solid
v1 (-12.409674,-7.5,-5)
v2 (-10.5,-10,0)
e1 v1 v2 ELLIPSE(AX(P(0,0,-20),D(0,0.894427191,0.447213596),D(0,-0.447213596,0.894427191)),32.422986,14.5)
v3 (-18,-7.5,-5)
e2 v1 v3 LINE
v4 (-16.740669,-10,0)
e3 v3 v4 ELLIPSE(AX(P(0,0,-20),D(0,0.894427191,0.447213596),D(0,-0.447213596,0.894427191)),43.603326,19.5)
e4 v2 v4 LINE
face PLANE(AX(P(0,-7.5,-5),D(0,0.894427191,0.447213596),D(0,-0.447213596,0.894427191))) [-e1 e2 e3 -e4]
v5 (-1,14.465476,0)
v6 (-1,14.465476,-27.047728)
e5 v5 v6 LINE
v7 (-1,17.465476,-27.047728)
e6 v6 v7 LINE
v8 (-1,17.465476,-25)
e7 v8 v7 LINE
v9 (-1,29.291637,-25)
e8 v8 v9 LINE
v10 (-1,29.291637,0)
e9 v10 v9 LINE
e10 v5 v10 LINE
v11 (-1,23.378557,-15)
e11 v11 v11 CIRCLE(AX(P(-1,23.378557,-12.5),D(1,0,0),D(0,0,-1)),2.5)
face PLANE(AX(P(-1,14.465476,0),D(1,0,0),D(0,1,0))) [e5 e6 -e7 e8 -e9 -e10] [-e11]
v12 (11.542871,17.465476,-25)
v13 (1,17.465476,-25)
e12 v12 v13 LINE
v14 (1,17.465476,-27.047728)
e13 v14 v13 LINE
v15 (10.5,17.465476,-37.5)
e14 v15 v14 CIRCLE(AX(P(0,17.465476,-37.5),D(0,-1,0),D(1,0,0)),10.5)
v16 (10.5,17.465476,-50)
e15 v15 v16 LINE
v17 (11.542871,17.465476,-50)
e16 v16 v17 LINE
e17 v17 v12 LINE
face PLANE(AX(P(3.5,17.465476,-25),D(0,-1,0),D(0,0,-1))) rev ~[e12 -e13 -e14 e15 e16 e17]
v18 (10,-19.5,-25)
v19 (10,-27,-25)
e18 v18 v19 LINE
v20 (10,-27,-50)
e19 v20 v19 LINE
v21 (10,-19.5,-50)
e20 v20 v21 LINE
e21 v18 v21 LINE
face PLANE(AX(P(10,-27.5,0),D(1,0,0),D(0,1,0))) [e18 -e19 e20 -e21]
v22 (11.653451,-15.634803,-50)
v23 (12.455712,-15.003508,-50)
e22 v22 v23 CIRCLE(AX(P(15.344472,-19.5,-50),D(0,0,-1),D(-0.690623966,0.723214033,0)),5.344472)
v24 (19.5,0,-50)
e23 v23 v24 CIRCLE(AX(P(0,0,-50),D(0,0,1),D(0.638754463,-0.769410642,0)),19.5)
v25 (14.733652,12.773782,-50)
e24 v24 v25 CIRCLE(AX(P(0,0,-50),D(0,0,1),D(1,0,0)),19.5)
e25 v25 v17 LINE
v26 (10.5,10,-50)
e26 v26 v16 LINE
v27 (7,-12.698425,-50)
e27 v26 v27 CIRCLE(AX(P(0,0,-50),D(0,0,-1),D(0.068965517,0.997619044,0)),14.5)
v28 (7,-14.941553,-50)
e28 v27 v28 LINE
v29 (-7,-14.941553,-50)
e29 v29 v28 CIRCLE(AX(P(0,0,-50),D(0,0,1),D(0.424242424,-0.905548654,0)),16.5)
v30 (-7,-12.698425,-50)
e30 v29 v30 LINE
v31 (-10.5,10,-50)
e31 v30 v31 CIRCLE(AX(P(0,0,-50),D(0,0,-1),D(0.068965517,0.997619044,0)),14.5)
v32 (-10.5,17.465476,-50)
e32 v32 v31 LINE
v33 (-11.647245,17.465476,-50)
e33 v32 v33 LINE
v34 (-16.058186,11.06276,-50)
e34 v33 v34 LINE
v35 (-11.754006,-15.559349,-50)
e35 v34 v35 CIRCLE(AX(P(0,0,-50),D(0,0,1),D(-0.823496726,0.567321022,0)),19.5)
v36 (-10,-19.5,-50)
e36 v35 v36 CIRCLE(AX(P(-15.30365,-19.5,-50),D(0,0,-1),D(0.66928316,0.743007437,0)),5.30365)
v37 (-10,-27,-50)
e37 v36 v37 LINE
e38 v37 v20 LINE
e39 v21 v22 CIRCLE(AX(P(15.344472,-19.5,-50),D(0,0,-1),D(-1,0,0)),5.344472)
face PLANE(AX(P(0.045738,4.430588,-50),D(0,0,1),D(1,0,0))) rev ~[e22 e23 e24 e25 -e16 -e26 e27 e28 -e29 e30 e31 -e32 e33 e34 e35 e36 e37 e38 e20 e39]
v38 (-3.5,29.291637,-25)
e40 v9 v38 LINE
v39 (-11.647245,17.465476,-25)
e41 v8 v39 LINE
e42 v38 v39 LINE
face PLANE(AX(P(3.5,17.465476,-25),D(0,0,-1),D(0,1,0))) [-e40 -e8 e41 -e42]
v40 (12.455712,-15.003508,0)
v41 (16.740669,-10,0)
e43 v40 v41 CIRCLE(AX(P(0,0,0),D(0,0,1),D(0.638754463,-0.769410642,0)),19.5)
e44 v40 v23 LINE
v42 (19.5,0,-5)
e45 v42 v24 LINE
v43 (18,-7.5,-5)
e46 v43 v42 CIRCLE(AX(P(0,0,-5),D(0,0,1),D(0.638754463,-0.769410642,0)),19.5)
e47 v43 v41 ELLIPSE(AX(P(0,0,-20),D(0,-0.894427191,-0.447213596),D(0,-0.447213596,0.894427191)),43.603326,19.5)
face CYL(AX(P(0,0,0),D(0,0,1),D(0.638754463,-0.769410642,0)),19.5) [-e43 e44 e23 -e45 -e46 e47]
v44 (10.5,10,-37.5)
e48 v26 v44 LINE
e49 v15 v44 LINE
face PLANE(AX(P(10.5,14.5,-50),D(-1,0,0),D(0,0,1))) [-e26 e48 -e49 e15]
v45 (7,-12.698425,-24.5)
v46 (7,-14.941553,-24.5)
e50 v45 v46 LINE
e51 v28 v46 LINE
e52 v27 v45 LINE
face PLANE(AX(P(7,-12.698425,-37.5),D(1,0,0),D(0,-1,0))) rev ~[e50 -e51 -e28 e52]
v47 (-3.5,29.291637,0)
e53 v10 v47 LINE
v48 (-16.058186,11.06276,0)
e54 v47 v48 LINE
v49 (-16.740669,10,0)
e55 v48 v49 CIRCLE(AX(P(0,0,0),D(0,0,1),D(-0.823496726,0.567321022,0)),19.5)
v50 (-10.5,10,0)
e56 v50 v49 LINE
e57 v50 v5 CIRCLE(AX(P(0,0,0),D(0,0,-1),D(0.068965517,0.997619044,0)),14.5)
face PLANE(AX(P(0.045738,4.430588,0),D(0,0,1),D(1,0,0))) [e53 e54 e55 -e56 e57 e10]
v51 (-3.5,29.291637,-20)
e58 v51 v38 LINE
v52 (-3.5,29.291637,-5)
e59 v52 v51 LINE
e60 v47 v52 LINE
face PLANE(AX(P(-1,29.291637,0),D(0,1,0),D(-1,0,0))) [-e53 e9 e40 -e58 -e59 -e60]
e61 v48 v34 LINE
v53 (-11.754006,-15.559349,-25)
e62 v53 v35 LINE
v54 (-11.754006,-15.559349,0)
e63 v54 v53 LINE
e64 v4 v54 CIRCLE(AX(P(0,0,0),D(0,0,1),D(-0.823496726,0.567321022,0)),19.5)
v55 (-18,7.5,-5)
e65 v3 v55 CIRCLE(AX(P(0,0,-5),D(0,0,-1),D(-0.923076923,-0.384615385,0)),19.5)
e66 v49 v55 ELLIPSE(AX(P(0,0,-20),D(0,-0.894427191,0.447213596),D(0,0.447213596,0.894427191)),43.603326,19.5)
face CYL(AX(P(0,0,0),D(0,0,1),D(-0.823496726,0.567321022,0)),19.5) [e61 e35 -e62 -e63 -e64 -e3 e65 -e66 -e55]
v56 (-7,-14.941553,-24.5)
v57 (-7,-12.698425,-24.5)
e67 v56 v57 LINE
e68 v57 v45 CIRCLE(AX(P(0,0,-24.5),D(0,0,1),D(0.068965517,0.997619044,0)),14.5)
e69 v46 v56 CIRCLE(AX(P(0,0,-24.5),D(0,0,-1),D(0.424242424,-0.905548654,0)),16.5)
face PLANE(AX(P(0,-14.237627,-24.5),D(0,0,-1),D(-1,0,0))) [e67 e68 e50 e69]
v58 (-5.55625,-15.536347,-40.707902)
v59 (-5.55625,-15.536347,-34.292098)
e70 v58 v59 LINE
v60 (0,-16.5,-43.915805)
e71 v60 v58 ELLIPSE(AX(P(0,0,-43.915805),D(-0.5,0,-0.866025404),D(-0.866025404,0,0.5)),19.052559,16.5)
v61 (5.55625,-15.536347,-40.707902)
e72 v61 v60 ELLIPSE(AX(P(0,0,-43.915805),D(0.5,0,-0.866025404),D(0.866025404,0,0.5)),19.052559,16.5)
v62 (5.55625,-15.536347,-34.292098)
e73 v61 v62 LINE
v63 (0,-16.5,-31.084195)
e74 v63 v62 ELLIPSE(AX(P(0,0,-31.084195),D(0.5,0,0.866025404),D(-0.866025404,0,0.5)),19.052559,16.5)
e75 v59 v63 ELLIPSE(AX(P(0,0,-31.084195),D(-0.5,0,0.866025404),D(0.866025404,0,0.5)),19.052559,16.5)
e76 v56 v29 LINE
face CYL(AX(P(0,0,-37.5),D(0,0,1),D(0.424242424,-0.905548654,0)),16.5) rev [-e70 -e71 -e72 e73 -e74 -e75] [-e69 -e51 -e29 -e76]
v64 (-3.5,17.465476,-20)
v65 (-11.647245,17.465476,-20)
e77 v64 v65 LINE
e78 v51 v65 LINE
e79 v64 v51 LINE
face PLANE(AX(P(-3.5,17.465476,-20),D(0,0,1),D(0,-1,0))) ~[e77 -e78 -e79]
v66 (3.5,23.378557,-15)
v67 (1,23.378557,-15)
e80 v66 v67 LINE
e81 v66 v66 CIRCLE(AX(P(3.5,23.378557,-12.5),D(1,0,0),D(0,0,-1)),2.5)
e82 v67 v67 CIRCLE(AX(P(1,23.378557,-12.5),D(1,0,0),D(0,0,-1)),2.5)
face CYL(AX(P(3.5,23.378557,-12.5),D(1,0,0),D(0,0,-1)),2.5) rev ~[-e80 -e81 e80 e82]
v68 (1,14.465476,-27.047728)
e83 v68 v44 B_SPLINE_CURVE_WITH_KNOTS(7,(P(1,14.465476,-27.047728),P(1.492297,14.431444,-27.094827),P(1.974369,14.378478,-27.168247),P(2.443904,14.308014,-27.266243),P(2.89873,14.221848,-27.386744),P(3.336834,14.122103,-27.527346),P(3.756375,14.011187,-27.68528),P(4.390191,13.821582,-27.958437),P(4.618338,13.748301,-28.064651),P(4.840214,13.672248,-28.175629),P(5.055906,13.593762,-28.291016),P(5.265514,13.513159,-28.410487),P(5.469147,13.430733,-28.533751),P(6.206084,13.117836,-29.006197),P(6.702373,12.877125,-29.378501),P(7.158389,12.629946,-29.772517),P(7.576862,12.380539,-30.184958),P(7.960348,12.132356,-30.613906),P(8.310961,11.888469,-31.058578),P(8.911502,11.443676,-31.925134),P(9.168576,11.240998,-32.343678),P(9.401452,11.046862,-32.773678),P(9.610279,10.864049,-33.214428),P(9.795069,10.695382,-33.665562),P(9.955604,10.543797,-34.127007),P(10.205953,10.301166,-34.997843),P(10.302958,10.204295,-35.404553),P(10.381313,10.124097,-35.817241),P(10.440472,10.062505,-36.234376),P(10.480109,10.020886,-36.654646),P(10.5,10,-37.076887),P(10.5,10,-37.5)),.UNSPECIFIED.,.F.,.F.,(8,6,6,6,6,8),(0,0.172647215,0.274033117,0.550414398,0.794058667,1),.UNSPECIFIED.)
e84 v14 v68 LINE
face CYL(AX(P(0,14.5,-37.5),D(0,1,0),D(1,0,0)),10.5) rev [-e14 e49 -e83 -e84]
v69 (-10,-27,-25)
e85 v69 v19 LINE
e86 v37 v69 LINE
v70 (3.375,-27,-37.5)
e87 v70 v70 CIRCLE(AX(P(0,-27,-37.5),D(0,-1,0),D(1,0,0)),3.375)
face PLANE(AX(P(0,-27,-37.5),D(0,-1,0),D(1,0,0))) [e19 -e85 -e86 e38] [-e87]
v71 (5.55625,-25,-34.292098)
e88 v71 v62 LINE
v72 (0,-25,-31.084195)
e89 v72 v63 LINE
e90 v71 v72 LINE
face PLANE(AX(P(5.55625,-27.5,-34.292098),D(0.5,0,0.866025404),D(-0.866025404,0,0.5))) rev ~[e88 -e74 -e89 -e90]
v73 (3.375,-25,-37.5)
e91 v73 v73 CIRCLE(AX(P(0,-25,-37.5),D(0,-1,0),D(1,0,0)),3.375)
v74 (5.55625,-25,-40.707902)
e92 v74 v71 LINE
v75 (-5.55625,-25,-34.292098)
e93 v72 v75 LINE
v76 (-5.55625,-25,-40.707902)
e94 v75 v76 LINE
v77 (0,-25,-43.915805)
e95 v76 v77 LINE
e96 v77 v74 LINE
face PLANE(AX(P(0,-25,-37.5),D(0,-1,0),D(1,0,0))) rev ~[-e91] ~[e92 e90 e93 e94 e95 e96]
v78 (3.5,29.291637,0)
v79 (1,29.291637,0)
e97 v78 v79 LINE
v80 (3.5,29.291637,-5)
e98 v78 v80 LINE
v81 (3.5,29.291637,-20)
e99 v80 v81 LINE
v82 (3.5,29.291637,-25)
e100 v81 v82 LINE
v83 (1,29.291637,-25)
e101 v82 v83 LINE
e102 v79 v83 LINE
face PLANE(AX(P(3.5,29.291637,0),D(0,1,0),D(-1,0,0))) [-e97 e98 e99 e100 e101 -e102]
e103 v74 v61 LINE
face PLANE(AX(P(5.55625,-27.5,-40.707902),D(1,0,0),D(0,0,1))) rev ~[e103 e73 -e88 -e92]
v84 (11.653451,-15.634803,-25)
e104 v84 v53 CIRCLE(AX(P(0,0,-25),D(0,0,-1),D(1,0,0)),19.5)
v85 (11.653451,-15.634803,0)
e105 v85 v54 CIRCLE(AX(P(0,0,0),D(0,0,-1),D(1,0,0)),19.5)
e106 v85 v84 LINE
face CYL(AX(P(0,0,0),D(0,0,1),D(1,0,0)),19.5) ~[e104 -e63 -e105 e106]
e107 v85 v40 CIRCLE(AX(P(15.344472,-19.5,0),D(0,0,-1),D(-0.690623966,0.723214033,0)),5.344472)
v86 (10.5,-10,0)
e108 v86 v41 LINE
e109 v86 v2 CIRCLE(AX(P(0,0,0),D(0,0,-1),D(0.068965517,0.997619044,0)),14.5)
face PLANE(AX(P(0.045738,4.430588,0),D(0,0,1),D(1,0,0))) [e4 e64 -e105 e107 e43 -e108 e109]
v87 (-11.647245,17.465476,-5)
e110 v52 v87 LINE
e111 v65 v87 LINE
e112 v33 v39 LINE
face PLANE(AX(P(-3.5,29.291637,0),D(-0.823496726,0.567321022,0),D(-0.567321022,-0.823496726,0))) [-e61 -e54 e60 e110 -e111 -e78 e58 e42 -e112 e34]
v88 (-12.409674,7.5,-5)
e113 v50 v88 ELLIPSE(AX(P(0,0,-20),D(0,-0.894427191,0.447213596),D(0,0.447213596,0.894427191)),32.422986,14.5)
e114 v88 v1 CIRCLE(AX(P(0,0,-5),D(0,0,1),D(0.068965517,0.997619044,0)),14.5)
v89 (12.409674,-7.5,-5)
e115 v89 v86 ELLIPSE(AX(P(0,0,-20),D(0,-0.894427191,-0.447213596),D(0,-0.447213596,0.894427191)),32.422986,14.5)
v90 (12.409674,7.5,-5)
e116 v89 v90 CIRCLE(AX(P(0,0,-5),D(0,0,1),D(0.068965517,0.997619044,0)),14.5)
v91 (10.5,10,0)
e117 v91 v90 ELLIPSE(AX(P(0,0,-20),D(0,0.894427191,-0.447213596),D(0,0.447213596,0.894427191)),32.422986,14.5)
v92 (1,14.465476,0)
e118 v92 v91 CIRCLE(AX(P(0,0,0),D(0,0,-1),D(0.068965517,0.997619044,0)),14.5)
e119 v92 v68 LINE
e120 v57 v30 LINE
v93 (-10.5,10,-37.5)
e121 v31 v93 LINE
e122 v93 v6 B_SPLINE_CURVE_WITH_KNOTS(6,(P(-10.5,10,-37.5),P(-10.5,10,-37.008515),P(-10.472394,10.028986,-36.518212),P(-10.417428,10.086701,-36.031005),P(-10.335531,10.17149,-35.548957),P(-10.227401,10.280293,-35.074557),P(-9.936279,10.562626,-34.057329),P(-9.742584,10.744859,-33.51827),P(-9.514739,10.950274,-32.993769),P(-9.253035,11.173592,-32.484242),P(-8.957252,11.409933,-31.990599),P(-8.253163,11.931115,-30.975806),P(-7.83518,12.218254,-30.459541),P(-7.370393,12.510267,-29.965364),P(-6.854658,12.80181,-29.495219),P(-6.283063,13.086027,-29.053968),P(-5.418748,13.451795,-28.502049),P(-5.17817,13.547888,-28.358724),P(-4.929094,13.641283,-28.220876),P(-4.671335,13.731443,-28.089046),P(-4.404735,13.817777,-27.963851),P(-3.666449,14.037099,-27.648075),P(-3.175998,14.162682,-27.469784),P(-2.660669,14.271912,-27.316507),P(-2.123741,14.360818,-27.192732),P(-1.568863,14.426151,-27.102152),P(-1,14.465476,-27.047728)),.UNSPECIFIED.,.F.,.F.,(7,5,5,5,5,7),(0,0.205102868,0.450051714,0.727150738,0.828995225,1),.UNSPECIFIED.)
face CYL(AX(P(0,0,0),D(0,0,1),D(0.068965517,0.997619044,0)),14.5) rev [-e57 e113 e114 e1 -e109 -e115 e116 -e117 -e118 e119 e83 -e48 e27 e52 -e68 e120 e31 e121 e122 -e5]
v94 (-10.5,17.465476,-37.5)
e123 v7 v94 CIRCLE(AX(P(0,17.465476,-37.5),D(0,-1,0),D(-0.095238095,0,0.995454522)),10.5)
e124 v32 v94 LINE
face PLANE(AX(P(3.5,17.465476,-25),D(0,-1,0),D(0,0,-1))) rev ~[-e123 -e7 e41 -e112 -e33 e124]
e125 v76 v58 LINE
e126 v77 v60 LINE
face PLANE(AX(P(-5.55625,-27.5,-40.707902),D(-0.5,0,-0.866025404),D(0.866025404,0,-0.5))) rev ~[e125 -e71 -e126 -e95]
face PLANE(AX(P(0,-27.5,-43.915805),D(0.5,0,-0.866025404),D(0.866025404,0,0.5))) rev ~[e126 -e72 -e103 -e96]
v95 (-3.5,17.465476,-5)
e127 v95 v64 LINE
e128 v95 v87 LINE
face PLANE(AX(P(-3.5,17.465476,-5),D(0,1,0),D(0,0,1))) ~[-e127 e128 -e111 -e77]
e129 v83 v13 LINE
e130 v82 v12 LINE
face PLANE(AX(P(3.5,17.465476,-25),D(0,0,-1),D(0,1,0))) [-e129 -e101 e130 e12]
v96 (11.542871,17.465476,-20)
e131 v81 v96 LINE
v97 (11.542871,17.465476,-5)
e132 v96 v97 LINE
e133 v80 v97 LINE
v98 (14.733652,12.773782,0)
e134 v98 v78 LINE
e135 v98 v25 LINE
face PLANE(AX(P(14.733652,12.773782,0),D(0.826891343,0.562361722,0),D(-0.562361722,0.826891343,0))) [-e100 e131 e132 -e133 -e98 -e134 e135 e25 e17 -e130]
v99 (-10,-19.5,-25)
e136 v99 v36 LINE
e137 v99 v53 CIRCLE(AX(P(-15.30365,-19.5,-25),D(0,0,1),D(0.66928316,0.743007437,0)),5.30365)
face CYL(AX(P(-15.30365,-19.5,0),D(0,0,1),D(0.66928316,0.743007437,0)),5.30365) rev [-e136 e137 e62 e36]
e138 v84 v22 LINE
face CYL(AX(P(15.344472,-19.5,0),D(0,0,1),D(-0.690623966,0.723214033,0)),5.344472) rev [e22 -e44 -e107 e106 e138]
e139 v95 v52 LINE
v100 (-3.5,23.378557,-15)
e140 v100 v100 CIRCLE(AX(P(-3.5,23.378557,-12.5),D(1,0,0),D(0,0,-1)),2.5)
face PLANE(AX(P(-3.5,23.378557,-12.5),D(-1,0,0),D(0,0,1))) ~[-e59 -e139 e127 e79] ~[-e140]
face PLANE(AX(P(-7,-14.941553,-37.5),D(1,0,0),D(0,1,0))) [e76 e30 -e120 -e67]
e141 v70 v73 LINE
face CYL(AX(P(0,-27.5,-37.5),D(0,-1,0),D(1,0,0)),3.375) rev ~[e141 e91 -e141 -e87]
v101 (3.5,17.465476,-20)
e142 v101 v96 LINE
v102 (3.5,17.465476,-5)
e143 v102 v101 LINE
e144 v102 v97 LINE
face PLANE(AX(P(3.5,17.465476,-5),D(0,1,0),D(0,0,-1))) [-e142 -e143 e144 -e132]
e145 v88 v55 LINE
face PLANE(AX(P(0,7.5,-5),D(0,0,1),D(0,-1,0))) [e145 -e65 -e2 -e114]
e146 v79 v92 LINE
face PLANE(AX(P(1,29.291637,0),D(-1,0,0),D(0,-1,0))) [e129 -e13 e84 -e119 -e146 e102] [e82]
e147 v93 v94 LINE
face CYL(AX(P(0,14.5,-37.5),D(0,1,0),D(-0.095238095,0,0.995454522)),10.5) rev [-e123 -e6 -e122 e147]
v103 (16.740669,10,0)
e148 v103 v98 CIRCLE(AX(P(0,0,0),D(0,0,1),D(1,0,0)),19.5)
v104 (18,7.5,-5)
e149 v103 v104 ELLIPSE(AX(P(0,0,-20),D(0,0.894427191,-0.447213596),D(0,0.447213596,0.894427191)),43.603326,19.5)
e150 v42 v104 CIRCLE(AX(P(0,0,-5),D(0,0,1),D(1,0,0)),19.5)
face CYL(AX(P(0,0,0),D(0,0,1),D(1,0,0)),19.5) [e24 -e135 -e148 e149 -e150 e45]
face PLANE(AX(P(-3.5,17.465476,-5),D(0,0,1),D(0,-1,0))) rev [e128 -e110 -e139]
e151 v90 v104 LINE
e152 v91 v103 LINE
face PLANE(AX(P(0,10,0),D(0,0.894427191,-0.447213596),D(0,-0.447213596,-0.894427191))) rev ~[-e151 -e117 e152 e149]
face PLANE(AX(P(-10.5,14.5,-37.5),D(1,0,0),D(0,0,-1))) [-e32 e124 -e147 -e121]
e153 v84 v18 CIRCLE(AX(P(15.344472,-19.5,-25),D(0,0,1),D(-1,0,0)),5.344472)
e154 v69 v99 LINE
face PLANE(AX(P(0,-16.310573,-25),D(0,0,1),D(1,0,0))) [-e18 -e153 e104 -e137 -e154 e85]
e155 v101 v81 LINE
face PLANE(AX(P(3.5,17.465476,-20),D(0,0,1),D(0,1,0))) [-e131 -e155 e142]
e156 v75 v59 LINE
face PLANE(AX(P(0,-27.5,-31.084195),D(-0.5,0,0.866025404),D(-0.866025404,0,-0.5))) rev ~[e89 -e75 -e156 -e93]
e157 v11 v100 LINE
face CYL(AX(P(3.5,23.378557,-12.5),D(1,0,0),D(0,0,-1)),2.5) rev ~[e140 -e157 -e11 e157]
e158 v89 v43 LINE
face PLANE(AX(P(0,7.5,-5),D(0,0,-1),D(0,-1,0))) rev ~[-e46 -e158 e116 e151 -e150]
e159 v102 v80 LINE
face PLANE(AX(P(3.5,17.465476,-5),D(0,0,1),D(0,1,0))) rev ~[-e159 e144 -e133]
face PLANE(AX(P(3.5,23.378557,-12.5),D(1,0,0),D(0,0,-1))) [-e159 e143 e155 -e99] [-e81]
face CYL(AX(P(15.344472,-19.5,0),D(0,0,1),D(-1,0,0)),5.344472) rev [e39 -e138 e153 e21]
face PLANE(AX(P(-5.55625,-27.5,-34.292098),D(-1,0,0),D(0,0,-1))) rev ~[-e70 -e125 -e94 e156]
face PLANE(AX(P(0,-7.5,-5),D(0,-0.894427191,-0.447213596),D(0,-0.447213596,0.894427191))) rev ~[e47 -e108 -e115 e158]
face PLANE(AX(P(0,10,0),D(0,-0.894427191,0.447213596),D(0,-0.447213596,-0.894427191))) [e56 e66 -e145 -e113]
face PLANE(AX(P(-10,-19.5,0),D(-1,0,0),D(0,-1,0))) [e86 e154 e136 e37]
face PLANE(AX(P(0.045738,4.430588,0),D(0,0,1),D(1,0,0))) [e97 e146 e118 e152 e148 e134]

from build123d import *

# Parameters (mm, degrees)
BOSS_EXTRUDE1_DEPTH            = 50
SKETCH4_W                      = 15
SKETCH4_H                      = 11.826160891
CUT_EXTRUDE3_DEPTH             = 17
SKETCH5_R                      = 2.5
CUT_EXTRUDE4_DEPTH             = 17
CUT_EXTRUDE4_DEPTH_BACK        = 24
SKETCH9_W                      = 25
SKETCH9_H                      = 11.826160891
CUT_EXTRUDE8_DEPTH             = 17
CUT_EXTRUDE8_DEPTH_BACK        = 24
CUT_EXTRUDE9_REACH             = 44
CUT_EXTRUDE9_DIRECTION_2_REACH = 16.792
CUT_EXTRUDE10_DEPTH            = 13
CUT_EXTRUDE10_DEPTH_BACK       = 13.5000001
CUT_EXTRUDE11_DEPTH            = 20.5
CUT_EXTRUDE11_DEPTH_BACK       = 20.5
CUT_EXTRUDE15_REACH            = 58.792
SKETCH14_R                     = 3.375
BOSS_EXTRUDE2_DEPTH            = 2.5
CUT_EXTRUDE17_DEPTH            = 25
SKETCH16_W                     = 20
SKETCH16_H                     = 25
CUT_EXTRUDE18_DEPTH            = 0.5


with BuildPart() as part:
    # Sketch1 → Boss-Extrude1 (new body)
    with BuildSketch(Plane.XY):
        with BuildLine():
            Line((3.5, 29.291637032), (1, 29.291637032))
            Line((1, 29.291637032), (1, 14.465476141))
            ThreePointArc((1, 14.465476141), (0, -14.5), (-1, 14.465476141))
            Line((-1, 14.465476141), (-1, 29.291637032))
            Line((-1, 29.291637032), (-3.5, 29.291637032))
            Line((-3.5, 29.291637032), (-16.058186159, 11.06275993))
            ThreePointArc((-16.058186159, 11.06275993), (-19.250030671, -3.112285199), (-11.754006256, -15.559348859))
            ThreePointArc((-11.754006256, -15.559348859), (-6.198495674, -18.488608692), (0, -19.5))
            ThreePointArc((0, -19.5), (6.13886546, -18.508493479), (11.653451419, -15.634803166))
            ThreePointArc((11.653451419, -15.634803166), (12.039474024, -15.299956246), (12.455712019, -15.003507527))
            ThreePointArc((12.455712019, -15.003507527), (17.651294349, -8.287448812), (19.5, 0))
            ThreePointArc((19.5, 0), (18.269595128, 6.817029694), (14.733651913, 12.773781793))
            Line((14.733651913, 12.773781793), (3.5, 29.291637032))
        make_face()
        with BuildLine():
            ThreePointArc((10, -19.5), (10.430719001, -17.397998087), (11.653451419, -15.634803166))
            ThreePointArc((11.653451419, -15.634803166), (6.13886546, -18.508493479), (0, -19.5))
            ThreePointArc((0, -19.5), (-6.198495674, -18.488608692), (-11.754006256, -15.559348859))
            ThreePointArc((-11.754006256, -15.559348859), (-10.458303194, -17.343308705), (-10, -19.5))
            Line((-10, -19.5), (-10, -27.5))
            Line((-10, -27.5), (10, -27.5))
            Line((10, -27.5), (10, -19.5))
        make_face()
    extrude(amount=-BOSS_EXTRUDE1_DEPTH)

    # Sketch4 → Cut-Extrude3 (cut, through all)
    with BuildSketch(Plane(origin=(3.5, 0, 0), x_dir=(0, 0, -1), z_dir=(1, 0, 0))):
        with Locations((12.5, 23.378556587)):
            Rectangle(SKETCH4_W, SKETCH4_H)
    cut_extrude3 = extrude(amount=CUT_EXTRUDE3_DEPTH, mode=Mode.SUBTRACT)

    # Mirror1: Cut-Extrude3 across plane
    add(cut_extrude3.mirror(Plane(origin=(0, 0, 0), x_dir=(0, 0, 1), z_dir=(1, 0, 0))), mode=Mode.SUBTRACT)

    # Sketch5 → Cut-Extrude4 (cut, two sides)
    with BuildSketch(Plane(origin=(3.5, 0, 0), x_dir=(0, 0, -1), z_dir=(1, 0, 0))) as cut_extrude4_sk:
        with Locations((12.5, 23.378556587)):
            Circle(SKETCH5_R)
    extrude(amount=CUT_EXTRUDE4_DEPTH, mode=Mode.SUBTRACT)
    extrude(cut_extrude4_sk.sketch, amount=-CUT_EXTRUDE4_DEPTH_BACK, mode=Mode.SUBTRACT)

    # Sketch9 → Cut-Extrude8 (cut, two sides)
    with BuildSketch(Plane(origin=(3.5, 0, 0), x_dir=(0, 0, -1), z_dir=(1, 0, 0))) as cut_extrude8_sk:
        with Locations((37.5, 23.378556587)):
            Rectangle(SKETCH9_W, SKETCH9_H)
    extrude(amount=CUT_EXTRUDE8_DEPTH, mode=Mode.SUBTRACT)
    extrude(cut_extrude8_sk.sketch, amount=-CUT_EXTRUDE8_DEPTH_BACK, mode=Mode.SUBTRACT)

    # Sketch8 → Cut-Extrude9 (cut, up to next)
    with BuildSketch(Plane(origin=(0, 14.5, 0), x_dir=(1, 0, 0), z_dir=(0, 1, 0)), mode=Mode.PRIVATE) as cut_extrude9_sk1:
        with BuildLine():
            Line((-10.5, 37.5), (-10.5, 50))
            Line((-10.5, 50), (-1, 50))
            Line((-1, 50), (-1, 27.04772752))
            ThreePointArc((-1, 27.04772752), (-7.770135134, 30.437776554), (-10.5, 37.5))
        make_face()
    cut_extrude9_tool1 = extrude(cut_extrude9_sk1.sketch, amount=-CUT_EXTRUDE9_REACH, mode=Mode.PRIVATE) & part.part
    add(cut_extrude9_tool1.solids().sort_by_distance((-5.457616, 14.5, -39.610639))[0], mode=Mode.SUBTRACT)
    # Sketch8 → Cut-Extrude9 (cut, up to next)
    with BuildSketch(Plane(origin=(0, 14.5, 0), x_dir=(1, 0, 0), z_dir=(0, 1, 0)), mode=Mode.PRIVATE) as cut_extrude9_sk2:
        with BuildLine():
            Line((10.5, 50), (10.5, 37.5))
            ThreePointArc((10.5, 37.5), (7.770135134, 30.437776554), (1, 27.04772752))
            Line((1, 27.04772752), (1, 50))
            Line((1, 50), (10.5, 50))
        make_face()
    cut_extrude9_tool2 = extrude(cut_extrude9_sk2.sketch, amount=-CUT_EXTRUDE9_REACH, mode=Mode.PRIVATE) & part.part
    add(cut_extrude9_tool2.solids().sort_by_distance((5.457616, 14.5, -39.610639))[0], mode=Mode.SUBTRACT)

    # Sketch8 → Cut-Extrude9 direction 2 (cut, up to next)
    with BuildSketch(Plane(origin=(0, 14.5, 0), x_dir=(1, 0, 0), z_dir=(0, 1, 0)), mode=Mode.PRIVATE) as cut_extrude9_direction_2_sk1:
        with BuildLine():
            Line((-10.5, 37.5), (-10.5, 50))
            Line((-10.5, 50), (-1, 50))
            Line((-1, 50), (-1, 27.04772752))
            ThreePointArc((-1, 27.04772752), (-7.770135134, 30.437776554), (-10.5, 37.5))
        make_face()
    cut_extrude9_direction_2_tool1 = extrude(cut_extrude9_direction_2_sk1.sketch, amount=CUT_EXTRUDE9_DIRECTION_2_REACH, mode=Mode.PRIVATE) & part.part
    add(cut_extrude9_direction_2_tool1.solids().sort_by_distance((-5.457616, 14.5, -39.610639))[0], mode=Mode.SUBTRACT)
    # Sketch8 → Cut-Extrude9 direction 2 (cut, up to next)
    with BuildSketch(Plane(origin=(0, 14.5, 0), x_dir=(1, 0, 0), z_dir=(0, 1, 0)), mode=Mode.PRIVATE) as cut_extrude9_direction_2_sk2:
        with BuildLine():
            Line((10.5, 50), (10.5, 37.5))
            ThreePointArc((10.5, 37.5), (7.770135134, 30.437776554), (1, 27.04772752))
            Line((1, 27.04772752), (1, 50))
            Line((1, 50), (10.5, 50))
        make_face()
    cut_extrude9_direction_2_tool2 = extrude(cut_extrude9_direction_2_sk2.sketch, amount=CUT_EXTRUDE9_DIRECTION_2_REACH, mode=Mode.PRIVATE) & part.part
    add(cut_extrude9_direction_2_tool2.solids().sort_by_distance((5.457616, 14.5, -39.610639))[0], mode=Mode.SUBTRACT)

    # Sketch10 → Cut-Extrude10 (cut, two sides)
    with BuildSketch(Plane.XY.offset(-37.5)) as cut_extrude10_sk:
        with BuildLine():
            Line((-7, -12.698425099), (7, -12.698425099))
            Line((7, -12.698425099), (7, -14.941552797))
            ThreePointArc((7, -14.941552797), (0, -16.5), (-7, -14.941552797))
            Line((-7, -14.941552797), (-7, -12.698425099))
        make_face()
    extrude(amount=CUT_EXTRUDE10_DEPTH, mode=Mode.SUBTRACT)
    extrude(cut_extrude10_sk.sketch, amount=-CUT_EXTRUDE10_DEPTH_BACK, mode=Mode.SUBTRACT)

    # Sketch11 → Cut-Extrude11 (cut, two sides)
    with BuildSketch(Plane(origin=(0, 0, 0), x_dir=(0, 0, -1), z_dir=(1, 0, 0))) as cut_extrude11_sk:
        Polygon((5, -7.5), (0, -10), (0, 10), (5, 7.5), align=None)
    extrude(amount=CUT_EXTRUDE11_DEPTH, mode=Mode.SUBTRACT)
    extrude(cut_extrude11_sk.sketch, amount=-CUT_EXTRUDE11_DEPTH_BACK, mode=Mode.SUBTRACT)

    # Sketch13 → Cut-Extrude15 (cut, up to next)
    with BuildSketch(Plane.XZ.offset(27.5), mode=Mode.PRIVATE) as cut_extrude15_sk1:
        Polygon((0, -31.084195134), (-5.55625, -34.292097567), (-5.55625, -40.707902433), (0, -43.915804866), (5.55625, -40.707902433), (5.55625, -34.292097567), align=None)
    cut_extrude15_tool1 = extrude(cut_extrude15_sk1.sketch, amount=-CUT_EXTRUDE15_REACH, mode=Mode.PRIVATE) & part.part
    add(cut_extrude15_tool1.solids().sort_by_distance((0, -27.5, -37.5))[0], mode=Mode.SUBTRACT)

    # Sketch14 → Boss-Extrude2 (add)
    with BuildSketch(Plane.XZ.offset(27.5)):
        Polygon((5.55625, -40.707902433), (5.55625, -34.292097567), (0, -31.084195134), (-5.55625, -34.292097567), (-5.55625, -40.707902433), (0, -43.915804866), align=None)
        with Locations((0, -37.5)):
            Circle(SKETCH14_R, mode=Mode.SUBTRACT)
    extrude(amount=-BOSS_EXTRUDE2_DEPTH)

    # Sketch15 → Cut-Extrude17 (cut)
    with BuildSketch(Plane.XY):
        with BuildLine():
            Line((-19.5, 0), (-19.5, -27.5))
            Line((-19.5, -27.5), (19.5, -27.5))
            Line((19.5, -27.5), (19.5, 0))
            ThreePointArc((19.5, 0), (0, -19.5), (-19.5, 0))
        make_face()
    extrude(amount=-CUT_EXTRUDE17_DEPTH, mode=Mode.SUBTRACT)

    # Sketch16 → Cut-Extrude18 (cut)
    with BuildSketch(Plane.XZ.offset(27.5)):
        with Locations((0, -37.5)):
            Rectangle(SKETCH16_W, SKETCH16_H)
    extrude(amount=-CUT_EXTRUDE18_DEPTH, mode=Mode.SUBTRACT)


solid = part.part
